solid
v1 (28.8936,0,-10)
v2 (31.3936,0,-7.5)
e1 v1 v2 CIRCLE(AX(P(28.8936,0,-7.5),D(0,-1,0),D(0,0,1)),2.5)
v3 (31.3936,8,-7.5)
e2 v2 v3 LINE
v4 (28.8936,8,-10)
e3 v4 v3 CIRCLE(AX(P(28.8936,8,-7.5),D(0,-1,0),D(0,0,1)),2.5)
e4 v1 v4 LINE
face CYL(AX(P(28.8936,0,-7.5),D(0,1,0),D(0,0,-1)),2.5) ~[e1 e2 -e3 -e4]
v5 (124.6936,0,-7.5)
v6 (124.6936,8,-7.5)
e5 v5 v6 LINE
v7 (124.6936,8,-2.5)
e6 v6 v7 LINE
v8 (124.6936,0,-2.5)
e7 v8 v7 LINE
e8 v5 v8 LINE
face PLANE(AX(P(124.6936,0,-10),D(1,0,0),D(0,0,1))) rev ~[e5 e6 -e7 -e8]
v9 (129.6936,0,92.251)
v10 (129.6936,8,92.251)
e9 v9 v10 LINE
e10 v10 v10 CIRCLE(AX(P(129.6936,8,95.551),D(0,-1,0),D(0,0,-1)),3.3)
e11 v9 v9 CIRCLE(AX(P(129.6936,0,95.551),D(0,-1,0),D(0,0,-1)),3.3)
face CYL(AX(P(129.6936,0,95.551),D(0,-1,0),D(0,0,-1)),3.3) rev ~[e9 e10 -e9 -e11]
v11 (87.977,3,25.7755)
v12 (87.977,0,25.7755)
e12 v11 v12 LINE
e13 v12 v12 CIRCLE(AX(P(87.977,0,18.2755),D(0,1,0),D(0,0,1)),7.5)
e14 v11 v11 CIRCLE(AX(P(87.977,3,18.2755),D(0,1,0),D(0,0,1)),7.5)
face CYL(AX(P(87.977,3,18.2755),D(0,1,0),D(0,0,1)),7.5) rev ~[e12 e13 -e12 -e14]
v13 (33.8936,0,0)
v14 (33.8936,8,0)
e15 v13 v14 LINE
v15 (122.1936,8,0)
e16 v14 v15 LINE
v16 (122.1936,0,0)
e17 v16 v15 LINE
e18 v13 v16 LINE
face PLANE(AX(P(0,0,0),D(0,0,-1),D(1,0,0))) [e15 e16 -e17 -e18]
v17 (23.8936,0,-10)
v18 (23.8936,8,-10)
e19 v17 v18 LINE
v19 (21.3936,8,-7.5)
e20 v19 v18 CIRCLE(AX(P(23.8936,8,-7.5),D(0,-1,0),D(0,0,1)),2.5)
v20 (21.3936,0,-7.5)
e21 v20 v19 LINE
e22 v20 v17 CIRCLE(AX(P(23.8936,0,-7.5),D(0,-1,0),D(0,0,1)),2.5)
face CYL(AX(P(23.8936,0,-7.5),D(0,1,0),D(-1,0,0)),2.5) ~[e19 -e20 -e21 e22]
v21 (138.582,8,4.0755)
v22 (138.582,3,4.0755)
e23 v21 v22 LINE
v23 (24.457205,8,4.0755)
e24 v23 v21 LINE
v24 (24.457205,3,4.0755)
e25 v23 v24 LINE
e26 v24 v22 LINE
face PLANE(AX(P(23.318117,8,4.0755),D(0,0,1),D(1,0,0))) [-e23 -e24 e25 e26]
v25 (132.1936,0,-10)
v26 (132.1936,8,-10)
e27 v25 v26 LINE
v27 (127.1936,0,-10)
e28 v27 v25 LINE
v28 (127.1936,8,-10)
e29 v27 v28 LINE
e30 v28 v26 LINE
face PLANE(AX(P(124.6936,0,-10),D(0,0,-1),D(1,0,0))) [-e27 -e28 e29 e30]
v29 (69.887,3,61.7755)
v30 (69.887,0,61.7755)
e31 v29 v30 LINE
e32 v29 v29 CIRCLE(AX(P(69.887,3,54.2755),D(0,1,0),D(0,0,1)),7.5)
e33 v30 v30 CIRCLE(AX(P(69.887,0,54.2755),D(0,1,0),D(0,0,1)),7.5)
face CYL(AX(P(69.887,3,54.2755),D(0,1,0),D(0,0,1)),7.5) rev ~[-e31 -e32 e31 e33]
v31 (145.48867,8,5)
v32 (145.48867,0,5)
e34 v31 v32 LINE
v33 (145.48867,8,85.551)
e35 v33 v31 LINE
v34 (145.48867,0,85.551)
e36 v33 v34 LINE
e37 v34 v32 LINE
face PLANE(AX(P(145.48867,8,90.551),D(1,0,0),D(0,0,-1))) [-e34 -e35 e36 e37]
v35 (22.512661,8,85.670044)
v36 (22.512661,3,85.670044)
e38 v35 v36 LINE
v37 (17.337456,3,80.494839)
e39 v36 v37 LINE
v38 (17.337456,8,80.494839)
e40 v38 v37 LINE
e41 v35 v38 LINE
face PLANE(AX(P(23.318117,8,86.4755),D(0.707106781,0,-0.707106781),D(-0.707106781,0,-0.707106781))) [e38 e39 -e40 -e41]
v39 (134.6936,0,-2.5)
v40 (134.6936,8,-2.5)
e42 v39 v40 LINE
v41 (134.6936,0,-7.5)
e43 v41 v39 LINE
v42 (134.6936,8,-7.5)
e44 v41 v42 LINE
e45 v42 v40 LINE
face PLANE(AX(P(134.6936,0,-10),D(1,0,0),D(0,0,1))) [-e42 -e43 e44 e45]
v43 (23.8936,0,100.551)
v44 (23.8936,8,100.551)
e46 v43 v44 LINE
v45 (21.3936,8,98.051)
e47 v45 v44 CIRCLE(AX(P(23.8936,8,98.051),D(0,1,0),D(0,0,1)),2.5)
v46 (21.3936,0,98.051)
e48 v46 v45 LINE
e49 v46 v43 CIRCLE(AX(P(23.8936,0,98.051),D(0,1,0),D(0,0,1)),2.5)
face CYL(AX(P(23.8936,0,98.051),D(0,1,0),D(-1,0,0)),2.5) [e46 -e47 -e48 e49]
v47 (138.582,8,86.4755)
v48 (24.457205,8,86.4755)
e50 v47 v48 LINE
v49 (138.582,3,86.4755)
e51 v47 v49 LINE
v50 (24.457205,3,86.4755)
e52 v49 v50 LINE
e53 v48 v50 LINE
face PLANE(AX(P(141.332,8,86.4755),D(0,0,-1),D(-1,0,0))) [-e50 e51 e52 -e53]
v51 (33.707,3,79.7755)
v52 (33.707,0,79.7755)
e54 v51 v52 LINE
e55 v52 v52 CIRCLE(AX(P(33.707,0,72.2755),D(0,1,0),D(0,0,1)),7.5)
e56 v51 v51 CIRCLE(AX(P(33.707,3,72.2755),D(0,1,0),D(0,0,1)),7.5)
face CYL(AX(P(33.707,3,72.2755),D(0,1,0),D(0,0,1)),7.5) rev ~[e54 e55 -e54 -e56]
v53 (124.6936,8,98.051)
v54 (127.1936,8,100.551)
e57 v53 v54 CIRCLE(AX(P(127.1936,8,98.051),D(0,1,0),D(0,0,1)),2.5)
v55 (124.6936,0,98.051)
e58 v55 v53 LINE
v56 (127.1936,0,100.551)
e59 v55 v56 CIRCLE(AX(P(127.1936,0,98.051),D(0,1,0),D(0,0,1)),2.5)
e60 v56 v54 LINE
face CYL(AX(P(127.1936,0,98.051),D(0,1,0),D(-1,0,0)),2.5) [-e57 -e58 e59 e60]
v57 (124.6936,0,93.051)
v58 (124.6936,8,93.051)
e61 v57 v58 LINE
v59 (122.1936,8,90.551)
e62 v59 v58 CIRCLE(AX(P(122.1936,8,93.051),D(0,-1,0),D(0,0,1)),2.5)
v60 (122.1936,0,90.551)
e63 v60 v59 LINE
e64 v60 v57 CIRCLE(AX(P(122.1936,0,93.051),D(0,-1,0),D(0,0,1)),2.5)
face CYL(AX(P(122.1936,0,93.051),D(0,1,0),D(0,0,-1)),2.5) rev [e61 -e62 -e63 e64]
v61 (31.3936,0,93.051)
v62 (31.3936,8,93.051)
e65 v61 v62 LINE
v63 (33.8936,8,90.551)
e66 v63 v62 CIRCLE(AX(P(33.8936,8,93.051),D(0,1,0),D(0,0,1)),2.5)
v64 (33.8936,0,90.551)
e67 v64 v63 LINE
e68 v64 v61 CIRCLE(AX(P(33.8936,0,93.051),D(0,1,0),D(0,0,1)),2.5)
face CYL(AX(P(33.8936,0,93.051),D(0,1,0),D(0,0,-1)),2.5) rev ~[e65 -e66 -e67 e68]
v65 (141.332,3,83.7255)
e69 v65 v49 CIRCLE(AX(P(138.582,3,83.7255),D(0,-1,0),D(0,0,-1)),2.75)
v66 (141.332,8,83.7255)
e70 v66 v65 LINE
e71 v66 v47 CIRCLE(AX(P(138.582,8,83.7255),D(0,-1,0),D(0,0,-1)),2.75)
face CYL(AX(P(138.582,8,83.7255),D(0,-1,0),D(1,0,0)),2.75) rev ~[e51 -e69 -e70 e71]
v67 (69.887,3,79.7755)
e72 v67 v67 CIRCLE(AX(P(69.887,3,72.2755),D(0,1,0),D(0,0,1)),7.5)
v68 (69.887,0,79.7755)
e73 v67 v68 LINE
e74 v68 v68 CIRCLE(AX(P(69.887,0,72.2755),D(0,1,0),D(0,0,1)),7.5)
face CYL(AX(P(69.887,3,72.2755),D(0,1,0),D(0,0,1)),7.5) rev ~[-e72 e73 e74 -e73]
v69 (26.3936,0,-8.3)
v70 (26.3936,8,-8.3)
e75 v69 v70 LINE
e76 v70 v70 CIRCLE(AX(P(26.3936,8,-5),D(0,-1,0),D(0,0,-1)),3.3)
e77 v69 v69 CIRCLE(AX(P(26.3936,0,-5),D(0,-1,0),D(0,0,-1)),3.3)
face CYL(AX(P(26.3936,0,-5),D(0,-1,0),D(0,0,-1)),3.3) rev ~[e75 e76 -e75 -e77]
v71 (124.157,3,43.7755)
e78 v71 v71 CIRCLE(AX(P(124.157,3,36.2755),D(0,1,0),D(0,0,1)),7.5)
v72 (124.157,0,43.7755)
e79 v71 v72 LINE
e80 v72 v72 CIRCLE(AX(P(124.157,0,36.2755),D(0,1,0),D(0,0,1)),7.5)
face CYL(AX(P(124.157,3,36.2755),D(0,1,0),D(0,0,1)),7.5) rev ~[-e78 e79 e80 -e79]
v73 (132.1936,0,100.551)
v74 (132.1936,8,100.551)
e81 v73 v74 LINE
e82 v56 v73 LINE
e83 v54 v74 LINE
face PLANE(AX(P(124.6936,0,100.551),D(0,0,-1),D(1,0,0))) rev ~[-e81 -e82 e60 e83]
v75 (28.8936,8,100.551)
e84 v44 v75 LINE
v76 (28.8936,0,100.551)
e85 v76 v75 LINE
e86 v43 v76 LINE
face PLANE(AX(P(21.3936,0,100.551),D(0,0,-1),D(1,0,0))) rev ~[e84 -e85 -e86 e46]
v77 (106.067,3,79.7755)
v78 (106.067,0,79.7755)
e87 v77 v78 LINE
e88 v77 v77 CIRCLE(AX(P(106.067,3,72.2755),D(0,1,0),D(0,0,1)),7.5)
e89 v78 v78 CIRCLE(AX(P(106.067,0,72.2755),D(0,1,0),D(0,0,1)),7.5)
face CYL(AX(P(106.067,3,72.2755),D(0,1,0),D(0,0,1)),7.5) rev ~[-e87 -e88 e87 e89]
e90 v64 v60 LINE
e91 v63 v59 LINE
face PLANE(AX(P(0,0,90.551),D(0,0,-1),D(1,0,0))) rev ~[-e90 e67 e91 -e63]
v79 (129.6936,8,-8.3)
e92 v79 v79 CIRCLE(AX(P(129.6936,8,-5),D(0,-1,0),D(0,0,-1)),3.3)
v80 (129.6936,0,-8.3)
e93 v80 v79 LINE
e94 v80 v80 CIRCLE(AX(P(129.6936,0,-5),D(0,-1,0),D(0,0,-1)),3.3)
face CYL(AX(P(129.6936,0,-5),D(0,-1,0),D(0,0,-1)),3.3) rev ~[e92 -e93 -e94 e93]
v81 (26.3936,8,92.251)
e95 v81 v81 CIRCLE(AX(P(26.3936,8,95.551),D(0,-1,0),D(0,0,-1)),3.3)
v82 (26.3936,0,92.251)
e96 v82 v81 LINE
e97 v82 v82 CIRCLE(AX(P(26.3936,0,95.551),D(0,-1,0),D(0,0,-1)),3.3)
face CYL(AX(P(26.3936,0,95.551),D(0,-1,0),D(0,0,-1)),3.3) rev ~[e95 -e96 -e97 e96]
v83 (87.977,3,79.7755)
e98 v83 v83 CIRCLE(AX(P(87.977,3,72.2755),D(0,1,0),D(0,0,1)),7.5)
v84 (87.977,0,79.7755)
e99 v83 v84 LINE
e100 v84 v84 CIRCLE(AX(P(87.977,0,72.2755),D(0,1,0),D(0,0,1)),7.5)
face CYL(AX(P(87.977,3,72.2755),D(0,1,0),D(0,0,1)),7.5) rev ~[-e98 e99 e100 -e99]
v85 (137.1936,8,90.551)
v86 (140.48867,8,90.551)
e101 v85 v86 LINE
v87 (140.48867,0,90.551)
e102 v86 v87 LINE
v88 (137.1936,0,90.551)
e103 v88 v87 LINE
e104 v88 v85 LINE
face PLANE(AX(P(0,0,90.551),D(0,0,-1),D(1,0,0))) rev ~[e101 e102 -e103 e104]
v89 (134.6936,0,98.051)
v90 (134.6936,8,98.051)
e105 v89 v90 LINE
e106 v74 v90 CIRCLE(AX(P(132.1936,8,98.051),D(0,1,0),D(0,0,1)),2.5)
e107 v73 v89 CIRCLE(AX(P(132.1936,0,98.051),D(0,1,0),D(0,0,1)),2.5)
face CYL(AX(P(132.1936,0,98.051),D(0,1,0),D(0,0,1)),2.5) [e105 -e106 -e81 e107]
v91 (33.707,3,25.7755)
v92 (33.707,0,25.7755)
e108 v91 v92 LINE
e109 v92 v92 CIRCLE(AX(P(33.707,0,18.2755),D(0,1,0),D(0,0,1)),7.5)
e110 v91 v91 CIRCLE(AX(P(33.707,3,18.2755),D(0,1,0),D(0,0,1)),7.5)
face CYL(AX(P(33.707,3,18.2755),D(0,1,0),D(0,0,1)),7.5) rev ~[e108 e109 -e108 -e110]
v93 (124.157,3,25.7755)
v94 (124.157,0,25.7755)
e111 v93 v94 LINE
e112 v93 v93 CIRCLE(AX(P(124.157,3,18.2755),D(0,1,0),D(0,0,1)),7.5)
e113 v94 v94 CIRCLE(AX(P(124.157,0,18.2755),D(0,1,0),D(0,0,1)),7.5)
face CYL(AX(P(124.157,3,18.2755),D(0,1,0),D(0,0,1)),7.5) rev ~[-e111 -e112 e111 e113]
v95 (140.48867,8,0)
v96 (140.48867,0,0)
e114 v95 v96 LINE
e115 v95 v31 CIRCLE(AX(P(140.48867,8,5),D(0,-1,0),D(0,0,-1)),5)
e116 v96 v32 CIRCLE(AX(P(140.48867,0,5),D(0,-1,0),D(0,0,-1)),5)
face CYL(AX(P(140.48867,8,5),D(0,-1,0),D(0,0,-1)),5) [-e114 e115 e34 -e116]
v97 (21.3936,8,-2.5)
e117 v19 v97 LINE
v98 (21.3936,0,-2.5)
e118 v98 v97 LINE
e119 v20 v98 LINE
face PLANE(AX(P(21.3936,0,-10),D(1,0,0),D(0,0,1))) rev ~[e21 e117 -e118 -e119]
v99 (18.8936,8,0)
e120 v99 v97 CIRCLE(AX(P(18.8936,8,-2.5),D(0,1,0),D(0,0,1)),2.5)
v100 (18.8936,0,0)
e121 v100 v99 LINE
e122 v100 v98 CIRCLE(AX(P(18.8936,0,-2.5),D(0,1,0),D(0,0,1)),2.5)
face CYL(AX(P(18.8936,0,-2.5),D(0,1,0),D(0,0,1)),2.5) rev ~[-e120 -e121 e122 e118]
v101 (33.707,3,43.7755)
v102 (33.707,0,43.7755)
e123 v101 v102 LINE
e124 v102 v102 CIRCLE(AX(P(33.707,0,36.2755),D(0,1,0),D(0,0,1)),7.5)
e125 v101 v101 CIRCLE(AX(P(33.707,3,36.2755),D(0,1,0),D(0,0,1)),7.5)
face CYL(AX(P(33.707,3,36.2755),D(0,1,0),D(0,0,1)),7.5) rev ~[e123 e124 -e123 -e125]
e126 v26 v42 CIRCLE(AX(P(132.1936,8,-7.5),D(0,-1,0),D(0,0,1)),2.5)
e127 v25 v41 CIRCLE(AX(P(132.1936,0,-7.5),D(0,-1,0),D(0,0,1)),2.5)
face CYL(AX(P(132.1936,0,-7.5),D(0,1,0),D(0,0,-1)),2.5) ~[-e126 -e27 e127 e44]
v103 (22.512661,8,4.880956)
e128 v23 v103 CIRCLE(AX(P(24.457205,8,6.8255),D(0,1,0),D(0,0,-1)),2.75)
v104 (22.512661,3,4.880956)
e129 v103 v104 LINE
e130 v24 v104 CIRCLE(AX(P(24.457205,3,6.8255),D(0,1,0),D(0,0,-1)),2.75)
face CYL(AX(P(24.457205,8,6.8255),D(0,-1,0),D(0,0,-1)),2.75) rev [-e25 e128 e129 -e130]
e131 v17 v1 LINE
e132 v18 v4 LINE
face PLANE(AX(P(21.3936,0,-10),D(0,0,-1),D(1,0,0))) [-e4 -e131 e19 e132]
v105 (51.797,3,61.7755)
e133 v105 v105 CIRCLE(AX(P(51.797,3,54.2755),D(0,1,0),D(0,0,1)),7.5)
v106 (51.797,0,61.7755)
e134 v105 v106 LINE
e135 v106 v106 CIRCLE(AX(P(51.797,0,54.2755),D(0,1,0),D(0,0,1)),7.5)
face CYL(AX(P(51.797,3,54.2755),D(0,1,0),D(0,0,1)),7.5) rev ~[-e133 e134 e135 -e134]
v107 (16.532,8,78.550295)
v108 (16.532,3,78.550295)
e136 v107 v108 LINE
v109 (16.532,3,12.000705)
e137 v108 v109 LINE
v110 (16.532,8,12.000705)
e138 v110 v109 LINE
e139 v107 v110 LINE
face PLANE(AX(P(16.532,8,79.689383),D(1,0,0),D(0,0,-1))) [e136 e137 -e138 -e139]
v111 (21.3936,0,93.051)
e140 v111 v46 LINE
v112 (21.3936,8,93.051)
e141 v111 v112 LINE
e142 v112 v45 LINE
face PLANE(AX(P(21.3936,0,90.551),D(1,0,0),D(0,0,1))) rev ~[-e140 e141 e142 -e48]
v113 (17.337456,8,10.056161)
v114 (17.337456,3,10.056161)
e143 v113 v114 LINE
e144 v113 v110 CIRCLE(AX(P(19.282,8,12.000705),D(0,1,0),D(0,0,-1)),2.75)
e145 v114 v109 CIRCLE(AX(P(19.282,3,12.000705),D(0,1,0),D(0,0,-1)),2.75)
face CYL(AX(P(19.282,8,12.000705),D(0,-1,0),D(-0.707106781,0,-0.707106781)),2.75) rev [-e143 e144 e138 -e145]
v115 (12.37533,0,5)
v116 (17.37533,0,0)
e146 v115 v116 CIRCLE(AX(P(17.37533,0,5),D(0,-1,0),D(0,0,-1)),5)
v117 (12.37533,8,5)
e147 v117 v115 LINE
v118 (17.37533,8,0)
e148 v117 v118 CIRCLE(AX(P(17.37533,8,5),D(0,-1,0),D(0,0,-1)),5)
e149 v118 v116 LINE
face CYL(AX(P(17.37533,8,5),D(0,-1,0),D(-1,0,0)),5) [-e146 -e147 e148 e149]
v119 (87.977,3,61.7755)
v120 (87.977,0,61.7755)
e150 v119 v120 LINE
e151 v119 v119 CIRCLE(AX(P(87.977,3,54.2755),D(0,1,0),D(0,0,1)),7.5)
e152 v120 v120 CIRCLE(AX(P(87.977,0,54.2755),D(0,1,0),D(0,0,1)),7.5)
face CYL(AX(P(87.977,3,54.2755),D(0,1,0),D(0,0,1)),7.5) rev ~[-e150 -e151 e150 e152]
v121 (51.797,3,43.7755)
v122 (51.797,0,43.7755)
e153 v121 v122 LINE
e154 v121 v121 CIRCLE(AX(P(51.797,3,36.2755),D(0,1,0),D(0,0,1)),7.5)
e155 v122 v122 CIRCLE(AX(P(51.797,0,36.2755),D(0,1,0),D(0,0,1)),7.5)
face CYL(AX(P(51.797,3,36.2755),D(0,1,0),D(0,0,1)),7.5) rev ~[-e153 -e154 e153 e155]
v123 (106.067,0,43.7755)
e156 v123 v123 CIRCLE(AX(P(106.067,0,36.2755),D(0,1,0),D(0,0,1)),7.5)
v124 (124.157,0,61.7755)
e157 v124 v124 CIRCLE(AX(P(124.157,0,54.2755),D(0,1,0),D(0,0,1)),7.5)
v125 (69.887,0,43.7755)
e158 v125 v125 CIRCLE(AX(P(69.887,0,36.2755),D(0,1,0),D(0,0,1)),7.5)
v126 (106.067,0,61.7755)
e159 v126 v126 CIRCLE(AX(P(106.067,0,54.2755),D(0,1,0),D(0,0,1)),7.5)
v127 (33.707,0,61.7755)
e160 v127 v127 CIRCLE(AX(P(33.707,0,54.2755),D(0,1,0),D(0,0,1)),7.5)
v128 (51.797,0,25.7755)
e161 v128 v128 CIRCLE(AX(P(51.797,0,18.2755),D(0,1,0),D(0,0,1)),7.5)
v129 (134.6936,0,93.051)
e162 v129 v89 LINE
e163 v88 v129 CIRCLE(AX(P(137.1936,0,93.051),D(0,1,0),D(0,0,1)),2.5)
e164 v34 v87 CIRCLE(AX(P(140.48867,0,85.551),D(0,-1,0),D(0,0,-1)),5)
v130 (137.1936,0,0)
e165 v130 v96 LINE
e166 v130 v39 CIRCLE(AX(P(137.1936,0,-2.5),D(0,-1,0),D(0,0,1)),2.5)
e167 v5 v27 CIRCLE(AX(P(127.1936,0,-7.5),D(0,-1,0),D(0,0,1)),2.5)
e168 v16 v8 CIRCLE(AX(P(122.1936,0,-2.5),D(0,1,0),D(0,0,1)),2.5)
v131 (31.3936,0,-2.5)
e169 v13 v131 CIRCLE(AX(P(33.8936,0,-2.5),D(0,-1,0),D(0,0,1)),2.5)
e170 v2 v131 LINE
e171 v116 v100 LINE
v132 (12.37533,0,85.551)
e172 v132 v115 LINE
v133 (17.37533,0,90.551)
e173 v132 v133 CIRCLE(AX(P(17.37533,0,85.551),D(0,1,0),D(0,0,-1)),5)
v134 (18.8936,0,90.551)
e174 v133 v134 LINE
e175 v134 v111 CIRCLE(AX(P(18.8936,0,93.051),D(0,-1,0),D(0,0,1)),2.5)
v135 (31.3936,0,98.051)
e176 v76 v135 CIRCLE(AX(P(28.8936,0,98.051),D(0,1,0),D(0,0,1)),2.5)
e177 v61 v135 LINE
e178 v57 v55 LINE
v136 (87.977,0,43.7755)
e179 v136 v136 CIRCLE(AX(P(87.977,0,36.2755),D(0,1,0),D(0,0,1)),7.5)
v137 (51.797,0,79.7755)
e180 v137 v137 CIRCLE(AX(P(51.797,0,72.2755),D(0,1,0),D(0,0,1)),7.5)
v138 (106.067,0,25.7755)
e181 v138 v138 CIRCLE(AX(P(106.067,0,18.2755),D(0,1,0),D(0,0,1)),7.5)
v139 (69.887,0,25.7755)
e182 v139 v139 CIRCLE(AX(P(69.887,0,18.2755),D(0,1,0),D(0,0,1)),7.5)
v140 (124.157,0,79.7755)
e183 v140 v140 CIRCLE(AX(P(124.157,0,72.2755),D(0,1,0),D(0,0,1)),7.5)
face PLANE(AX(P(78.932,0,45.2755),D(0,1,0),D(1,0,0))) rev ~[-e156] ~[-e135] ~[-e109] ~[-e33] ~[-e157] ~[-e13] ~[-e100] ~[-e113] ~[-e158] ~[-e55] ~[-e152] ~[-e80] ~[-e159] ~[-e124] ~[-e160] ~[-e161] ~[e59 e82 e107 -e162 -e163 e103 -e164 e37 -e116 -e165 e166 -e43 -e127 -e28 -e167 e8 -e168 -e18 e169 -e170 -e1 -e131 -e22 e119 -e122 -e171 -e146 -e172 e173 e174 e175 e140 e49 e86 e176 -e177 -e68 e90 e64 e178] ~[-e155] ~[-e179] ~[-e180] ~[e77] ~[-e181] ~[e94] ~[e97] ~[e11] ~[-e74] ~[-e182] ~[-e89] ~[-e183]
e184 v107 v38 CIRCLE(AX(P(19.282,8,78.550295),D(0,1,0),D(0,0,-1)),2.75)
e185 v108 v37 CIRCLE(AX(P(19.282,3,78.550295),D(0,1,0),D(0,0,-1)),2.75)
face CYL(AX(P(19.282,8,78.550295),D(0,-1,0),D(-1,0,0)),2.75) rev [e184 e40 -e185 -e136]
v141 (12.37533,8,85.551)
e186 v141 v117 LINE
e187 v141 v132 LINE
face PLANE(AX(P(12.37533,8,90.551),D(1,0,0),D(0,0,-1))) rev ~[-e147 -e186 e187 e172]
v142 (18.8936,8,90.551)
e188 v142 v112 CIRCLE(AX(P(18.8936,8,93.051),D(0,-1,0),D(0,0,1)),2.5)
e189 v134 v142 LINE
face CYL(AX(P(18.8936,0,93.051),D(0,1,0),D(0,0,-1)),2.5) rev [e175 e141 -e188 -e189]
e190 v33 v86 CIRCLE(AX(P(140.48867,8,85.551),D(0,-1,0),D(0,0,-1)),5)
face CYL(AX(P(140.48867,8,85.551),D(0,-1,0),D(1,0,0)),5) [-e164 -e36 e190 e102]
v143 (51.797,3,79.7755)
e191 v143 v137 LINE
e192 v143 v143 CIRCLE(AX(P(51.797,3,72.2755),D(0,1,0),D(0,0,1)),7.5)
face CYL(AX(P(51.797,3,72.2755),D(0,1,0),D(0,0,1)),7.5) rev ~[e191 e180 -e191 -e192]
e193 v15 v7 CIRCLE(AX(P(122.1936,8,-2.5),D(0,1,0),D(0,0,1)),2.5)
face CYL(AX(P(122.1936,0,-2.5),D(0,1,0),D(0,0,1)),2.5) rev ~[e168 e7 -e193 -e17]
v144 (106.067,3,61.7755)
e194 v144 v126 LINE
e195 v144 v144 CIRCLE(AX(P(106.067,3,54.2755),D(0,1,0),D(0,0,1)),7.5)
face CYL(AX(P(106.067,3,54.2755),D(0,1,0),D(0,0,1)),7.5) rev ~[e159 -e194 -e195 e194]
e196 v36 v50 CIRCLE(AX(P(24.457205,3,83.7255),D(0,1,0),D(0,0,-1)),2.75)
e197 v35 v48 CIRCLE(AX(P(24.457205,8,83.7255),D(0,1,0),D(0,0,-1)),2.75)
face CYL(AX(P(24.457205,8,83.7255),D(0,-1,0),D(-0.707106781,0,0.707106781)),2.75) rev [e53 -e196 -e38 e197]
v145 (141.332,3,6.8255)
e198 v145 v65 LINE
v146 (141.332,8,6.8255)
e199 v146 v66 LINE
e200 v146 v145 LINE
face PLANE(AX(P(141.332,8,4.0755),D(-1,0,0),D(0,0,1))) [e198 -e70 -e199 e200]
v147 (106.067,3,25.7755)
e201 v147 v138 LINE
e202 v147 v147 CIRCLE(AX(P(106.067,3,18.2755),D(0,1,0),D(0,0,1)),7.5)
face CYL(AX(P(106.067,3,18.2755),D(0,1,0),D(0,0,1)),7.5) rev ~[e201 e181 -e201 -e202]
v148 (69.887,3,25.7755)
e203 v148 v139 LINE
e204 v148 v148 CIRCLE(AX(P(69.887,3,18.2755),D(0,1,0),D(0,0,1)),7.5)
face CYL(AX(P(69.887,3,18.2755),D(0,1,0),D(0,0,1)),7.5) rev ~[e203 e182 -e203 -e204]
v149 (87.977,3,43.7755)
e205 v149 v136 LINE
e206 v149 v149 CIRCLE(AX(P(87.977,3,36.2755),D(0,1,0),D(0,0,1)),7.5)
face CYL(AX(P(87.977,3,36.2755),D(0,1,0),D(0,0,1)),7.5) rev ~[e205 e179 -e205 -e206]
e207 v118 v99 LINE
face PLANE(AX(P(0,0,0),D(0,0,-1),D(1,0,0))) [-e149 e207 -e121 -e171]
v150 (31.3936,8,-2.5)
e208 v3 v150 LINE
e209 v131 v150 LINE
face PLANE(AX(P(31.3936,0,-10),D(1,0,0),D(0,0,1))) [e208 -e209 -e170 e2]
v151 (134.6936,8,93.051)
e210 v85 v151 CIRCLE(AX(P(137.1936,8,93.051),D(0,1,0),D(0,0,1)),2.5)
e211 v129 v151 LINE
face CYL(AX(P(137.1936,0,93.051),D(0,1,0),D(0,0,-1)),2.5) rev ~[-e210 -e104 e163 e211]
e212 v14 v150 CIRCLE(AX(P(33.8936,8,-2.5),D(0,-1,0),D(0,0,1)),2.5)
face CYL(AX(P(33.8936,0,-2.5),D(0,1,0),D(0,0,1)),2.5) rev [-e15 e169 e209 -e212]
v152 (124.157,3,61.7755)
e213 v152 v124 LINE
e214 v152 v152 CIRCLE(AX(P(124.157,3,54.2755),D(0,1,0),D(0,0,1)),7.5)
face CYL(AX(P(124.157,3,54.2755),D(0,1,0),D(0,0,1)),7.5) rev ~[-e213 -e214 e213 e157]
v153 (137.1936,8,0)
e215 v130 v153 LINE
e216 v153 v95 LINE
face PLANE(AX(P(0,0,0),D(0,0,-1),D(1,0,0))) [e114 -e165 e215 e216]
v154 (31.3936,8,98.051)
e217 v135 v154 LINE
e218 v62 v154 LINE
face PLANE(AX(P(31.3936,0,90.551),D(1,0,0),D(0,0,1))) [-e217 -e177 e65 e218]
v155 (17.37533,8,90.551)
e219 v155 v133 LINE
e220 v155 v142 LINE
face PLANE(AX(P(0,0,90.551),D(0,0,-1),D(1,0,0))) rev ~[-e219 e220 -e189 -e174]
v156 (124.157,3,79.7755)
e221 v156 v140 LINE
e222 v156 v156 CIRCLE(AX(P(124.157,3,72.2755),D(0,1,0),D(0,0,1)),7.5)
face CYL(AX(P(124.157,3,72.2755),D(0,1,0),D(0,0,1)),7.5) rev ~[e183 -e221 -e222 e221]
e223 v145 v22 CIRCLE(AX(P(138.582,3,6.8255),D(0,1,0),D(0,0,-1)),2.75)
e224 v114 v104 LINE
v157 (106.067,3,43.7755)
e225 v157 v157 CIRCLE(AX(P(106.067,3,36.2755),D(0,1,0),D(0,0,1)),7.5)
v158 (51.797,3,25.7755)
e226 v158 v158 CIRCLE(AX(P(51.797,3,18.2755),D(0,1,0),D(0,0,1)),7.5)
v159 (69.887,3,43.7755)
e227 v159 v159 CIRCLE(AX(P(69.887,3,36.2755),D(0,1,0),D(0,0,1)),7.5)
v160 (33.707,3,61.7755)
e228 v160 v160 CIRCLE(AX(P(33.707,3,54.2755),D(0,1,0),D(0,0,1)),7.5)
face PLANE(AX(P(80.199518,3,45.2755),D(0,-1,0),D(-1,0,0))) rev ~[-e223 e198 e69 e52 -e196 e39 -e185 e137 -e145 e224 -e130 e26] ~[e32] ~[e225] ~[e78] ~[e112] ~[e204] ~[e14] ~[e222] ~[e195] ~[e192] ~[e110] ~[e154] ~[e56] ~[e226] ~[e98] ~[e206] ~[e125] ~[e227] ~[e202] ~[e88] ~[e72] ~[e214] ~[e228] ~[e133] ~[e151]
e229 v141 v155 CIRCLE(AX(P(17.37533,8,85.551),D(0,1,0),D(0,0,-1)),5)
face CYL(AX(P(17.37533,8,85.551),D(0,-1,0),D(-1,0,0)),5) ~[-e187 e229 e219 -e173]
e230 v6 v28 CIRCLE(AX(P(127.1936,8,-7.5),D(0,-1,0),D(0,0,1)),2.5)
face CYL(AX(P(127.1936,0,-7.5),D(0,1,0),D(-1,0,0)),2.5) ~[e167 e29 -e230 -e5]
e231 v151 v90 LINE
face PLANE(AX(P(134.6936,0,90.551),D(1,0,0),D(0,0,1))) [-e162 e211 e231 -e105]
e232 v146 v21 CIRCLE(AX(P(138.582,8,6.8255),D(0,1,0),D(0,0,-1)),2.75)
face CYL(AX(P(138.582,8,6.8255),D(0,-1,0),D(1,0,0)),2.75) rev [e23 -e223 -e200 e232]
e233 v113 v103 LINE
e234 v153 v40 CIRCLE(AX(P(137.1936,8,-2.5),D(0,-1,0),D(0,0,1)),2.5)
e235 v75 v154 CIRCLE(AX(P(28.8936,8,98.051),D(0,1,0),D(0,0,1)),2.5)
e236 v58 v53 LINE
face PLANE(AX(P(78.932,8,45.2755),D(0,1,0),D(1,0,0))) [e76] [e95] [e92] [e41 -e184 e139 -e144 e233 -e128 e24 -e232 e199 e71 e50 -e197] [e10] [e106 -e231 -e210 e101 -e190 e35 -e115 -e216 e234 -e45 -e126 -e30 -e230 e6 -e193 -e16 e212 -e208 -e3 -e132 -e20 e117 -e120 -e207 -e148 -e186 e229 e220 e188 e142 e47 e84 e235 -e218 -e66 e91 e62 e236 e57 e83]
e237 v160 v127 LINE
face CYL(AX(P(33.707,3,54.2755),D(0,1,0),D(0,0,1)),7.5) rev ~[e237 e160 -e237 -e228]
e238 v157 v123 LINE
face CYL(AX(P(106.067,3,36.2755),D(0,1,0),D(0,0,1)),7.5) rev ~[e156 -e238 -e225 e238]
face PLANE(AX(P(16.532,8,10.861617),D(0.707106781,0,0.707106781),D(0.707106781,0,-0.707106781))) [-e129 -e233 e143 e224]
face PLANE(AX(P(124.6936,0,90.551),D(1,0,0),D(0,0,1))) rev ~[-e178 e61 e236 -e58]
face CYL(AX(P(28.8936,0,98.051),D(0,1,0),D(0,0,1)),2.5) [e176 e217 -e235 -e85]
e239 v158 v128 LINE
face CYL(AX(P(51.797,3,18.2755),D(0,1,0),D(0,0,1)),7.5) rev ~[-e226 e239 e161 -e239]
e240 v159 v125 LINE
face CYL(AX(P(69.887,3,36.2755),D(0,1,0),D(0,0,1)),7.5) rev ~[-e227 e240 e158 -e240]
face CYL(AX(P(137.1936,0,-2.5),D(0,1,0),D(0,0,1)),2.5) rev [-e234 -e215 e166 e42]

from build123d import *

# Parameters (mm, degrees)
SKETCH1_W            = 157.864
SKETCH1_H            = 90.551
BOSS_EXTRUDE1_DEPTH  = 8
CUT_EXTRUDE21_DEPTH  = 5
FILLET8_R            = 2.75
SKETCH29_W           = 12.37533
SKETCH29_H           = 90.551
CUT_EXTRUDE25_DEPTH  = 183.166204596
FILLET9_R            = 5
SKETCH36_W           = 10
SKETCH36_H           = 10
SKETCH36_R           = 3.3
BOSS_EXTRUDE10_DEPTH = 8
FILLET10_R           = 2.5
SKETCH37_R           = 7.5
CUT_EXTRUDE26_DEPTH  = 3


with BuildPart() as part:
    # Sketch1 → Boss-Extrude1 (new body)
    with BuildSketch(Plane(origin=(0, 0, 0), x_dir=(1, 0, 0), z_dir=(0, 1, 0))):
        with Locations((78.932, -45.2755)):
            Rectangle(SKETCH1_W, SKETCH1_H)
    extrude(amount=BOSS_EXTRUDE1_DEPTH)

    # Sketch23 → Cut-Extrude21 (cut)
    with BuildSketch(Plane(origin=(0, 8, 0), x_dir=(1, 0, 0), z_dir=(0, 1, 0))):
        Polygon((141.332, -86.4755), (23.3181173, -86.4755), (16.532, -79.6893827), (16.532, -10.8616173), (23.3181173, -4.0755), (141.332, -4.0755), align=None)
    extrude(amount=-CUT_EXTRUDE21_DEPTH, mode=Mode.SUBTRACT)

    # Fillet8
    fillet8_edges = [part.edges().sort_by_distance(p)[0] for p in [
        (141.332, 5.5, 4.0755),
        (141.332, 5.5, 86.4755),
        (23.3181173, 5.5, 86.4755),
        (16.532, 5.5, 79.6893827),
        (16.532, 5.5, 10.8616173),
        (23.3181173, 5.5, 4.0755),
    ]]
    fillet(fillet8_edges, radius=FILLET8_R)

    # Sketch29 → Cut-Extrude25 (cut, through all)
    with BuildSketch(Plane(origin=(0, 8, 0), x_dir=(1, 0, 0), z_dir=(0, 1, 0))):
        with Locations((151.676335, -45.2755)):
            Rectangle(SKETCH29_W, SKETCH29_H)
        with Locations((6.187665, -45.2755)):
            Rectangle(SKETCH29_W, SKETCH29_H)
    extrude(amount=-CUT_EXTRUDE25_DEPTH, mode=Mode.SUBTRACT)

    # Fillet9
    fillet9_edges = [part.edges().sort_by_distance(p)[0] for p in [
        (145.48867, 4, 90.551),
        (145.48867, 4, 0),
        (12.37533, 4, 0),
        (12.37533, 4, 90.551),
    ]]
    fillet(fillet9_edges, radius=FILLET9_R)

    # Sketch36 → Boss-Extrude10 (add)
    # profile 1 of 4: a face of its own
    with BuildSketch(Plane.XZ):
        with Locations((26.3936, 95.551)):
            Rectangle(SKETCH36_W, SKETCH36_H)
        with Locations(Location((26.3936, 95.551, 0), (0, 0, 270))):
            Circle(SKETCH36_R, mode=Mode.SUBTRACT)
    # profile 2 of 4: a face of its own
    with BuildSketch(Plane.XZ):
        with Locations((129.6936, 95.551)):
            Rectangle(SKETCH36_W, SKETCH36_H)
        with Locations(Location((129.6936, 95.551, 0), (0, 0, 270))):
            Circle(SKETCH36_R, mode=Mode.SUBTRACT)
    # profile 3 of 4: a face of its own
    with BuildSketch(Plane.XZ):
        with Locations((26.3936, -5)):
            Rectangle(SKETCH36_W, SKETCH36_H)
        with Locations(Location((26.3936, -5, 0), (0, 0, 270))):
            Circle(SKETCH36_R, mode=Mode.SUBTRACT)
    # profile 4 of 4: a face of its own
    with BuildSketch(Plane.XZ):
        with Locations((129.6936, -5)):
            Rectangle(SKETCH36_W, SKETCH36_H)
        with Locations(Location((129.6936, -5, 0), (0, 0, 270))):
            Circle(SKETCH36_R, mode=Mode.SUBTRACT)
    extrude(amount=-BOSS_EXTRUDE10_DEPTH)

    # Fillet10
    fillet10_edges = [part.edges().sort_by_distance(p)[0] for p in [
        (21.3936, 4, 90.551),
        (21.3936, 4, 100.551),
        (31.3936, 4, 100.551),
        (31.3936, 4, 90.551),
        (124.6936, 4, 90.551),
        (124.6936, 4, 100.551),
        (134.6936, 4, 100.551),
        (134.6936, 4, 90.551),
        (31.3936, 4, 0),
        (31.3936, 4, -10),
        (21.3936, 4, -10),
        (21.3936, 4, 0),
        (124.6936, 4, -10),
        (124.6936, 4, 0),
        (134.6936, 4, 0),
        (134.6936, 4, -10),
    ]]
    fillet(fillet10_edges, radius=FILLET10_R)

    # Sketch37 → Cut-Extrude26 (cut)
    with BuildSketch(Plane(origin=(0, 3, 0), x_dir=(1, 0, 0), z_dir=(0, 1, 0))):
        with Locations(Location((124.157, -72.2755, 0), (0, 0, 270))):
            Circle(SKETCH37_R)
        with Locations(Location((106.067, -72.2755, 0), (0, 0, 270))):
            Circle(SKETCH37_R)
        with Locations(Location((87.977, -72.2755, 0), (0, 0, 270))):
            Circle(SKETCH37_R)
        with Locations(Location((69.887, -72.2755, 0), (0, 0, 270))):
            Circle(SKETCH37_R)
        with Locations(Location((51.797, -72.2755, 0), (0, 0, 270))):
            Circle(SKETCH37_R)
        with Locations(Location((33.707, -72.2755, 0), (0, 0, 270))):
            Circle(SKETCH37_R)
        with Locations(Location((106.067, -54.2755, 0), (0, 0, 270))):
            Circle(SKETCH37_R)
        with Locations(Location((87.977, -54.2755, 0), (0, 0, 270))):
            Circle(SKETCH37_R)
        with Locations(Location((69.887, -54.2755, 0), (0, 0, 270))):
            Circle(SKETCH37_R)
        with Locations(Location((51.797, -54.2755, 0), (0, 0, 270))):
            Circle(SKETCH37_R)
        with Locations(Location((33.707, -54.2755, 0), (0, 0, 270))):
            Circle(SKETCH37_R)
        with Locations(Location((106.067, -36.2755, 0), (0, 0, 270))):
            Circle(SKETCH37_R)
        with Locations(Location((87.977, -36.2755, 0), (0, 0, 270))):
            Circle(SKETCH37_R)
        with Locations(Location((69.887, -36.2755, 0), (0, 0, 270))):
            Circle(SKETCH37_R)
        with Locations(Location((51.797, -36.2755, 0), (0, 0, 270))):
            Circle(SKETCH37_R)
        with Locations(Location((33.707, -36.2755, 0), (0, 0, 270))):
            Circle(SKETCH37_R)
        with Locations(Location((106.067, -18.2755, 0), (0, 0, 270))):
            Circle(SKETCH37_R)
        with Locations(Location((87.977, -18.2755, 0), (0, 0, 270))):
            Circle(SKETCH37_R)
        with Locations(Location((69.887, -18.2755, 0), (0, 0, 270))):
            Circle(SKETCH37_R)
        with Locations(Location((51.797, -18.2755, 0), (0, 0, 270))):
            Circle(SKETCH37_R)
        with Locations(Location((33.707, -18.2755, 0), (0, 0, 270))):
            Circle(SKETCH37_R)
        with Locations(Location((124.157, -54.2755, 0), (0, 0, 270))):
            Circle(SKETCH37_R)
        with Locations(Location((124.157, -36.2755, 0), (0, 0, 270))):
            Circle(SKETCH37_R)
        with Locations(Location((124.157, -18.2755, 0), (0, 0, 270))):
            Circle(SKETCH37_R)
    extrude(amount=-CUT_EXTRUDE26_DEPTH, mode=Mode.SUBTRACT)


solid = part.part
